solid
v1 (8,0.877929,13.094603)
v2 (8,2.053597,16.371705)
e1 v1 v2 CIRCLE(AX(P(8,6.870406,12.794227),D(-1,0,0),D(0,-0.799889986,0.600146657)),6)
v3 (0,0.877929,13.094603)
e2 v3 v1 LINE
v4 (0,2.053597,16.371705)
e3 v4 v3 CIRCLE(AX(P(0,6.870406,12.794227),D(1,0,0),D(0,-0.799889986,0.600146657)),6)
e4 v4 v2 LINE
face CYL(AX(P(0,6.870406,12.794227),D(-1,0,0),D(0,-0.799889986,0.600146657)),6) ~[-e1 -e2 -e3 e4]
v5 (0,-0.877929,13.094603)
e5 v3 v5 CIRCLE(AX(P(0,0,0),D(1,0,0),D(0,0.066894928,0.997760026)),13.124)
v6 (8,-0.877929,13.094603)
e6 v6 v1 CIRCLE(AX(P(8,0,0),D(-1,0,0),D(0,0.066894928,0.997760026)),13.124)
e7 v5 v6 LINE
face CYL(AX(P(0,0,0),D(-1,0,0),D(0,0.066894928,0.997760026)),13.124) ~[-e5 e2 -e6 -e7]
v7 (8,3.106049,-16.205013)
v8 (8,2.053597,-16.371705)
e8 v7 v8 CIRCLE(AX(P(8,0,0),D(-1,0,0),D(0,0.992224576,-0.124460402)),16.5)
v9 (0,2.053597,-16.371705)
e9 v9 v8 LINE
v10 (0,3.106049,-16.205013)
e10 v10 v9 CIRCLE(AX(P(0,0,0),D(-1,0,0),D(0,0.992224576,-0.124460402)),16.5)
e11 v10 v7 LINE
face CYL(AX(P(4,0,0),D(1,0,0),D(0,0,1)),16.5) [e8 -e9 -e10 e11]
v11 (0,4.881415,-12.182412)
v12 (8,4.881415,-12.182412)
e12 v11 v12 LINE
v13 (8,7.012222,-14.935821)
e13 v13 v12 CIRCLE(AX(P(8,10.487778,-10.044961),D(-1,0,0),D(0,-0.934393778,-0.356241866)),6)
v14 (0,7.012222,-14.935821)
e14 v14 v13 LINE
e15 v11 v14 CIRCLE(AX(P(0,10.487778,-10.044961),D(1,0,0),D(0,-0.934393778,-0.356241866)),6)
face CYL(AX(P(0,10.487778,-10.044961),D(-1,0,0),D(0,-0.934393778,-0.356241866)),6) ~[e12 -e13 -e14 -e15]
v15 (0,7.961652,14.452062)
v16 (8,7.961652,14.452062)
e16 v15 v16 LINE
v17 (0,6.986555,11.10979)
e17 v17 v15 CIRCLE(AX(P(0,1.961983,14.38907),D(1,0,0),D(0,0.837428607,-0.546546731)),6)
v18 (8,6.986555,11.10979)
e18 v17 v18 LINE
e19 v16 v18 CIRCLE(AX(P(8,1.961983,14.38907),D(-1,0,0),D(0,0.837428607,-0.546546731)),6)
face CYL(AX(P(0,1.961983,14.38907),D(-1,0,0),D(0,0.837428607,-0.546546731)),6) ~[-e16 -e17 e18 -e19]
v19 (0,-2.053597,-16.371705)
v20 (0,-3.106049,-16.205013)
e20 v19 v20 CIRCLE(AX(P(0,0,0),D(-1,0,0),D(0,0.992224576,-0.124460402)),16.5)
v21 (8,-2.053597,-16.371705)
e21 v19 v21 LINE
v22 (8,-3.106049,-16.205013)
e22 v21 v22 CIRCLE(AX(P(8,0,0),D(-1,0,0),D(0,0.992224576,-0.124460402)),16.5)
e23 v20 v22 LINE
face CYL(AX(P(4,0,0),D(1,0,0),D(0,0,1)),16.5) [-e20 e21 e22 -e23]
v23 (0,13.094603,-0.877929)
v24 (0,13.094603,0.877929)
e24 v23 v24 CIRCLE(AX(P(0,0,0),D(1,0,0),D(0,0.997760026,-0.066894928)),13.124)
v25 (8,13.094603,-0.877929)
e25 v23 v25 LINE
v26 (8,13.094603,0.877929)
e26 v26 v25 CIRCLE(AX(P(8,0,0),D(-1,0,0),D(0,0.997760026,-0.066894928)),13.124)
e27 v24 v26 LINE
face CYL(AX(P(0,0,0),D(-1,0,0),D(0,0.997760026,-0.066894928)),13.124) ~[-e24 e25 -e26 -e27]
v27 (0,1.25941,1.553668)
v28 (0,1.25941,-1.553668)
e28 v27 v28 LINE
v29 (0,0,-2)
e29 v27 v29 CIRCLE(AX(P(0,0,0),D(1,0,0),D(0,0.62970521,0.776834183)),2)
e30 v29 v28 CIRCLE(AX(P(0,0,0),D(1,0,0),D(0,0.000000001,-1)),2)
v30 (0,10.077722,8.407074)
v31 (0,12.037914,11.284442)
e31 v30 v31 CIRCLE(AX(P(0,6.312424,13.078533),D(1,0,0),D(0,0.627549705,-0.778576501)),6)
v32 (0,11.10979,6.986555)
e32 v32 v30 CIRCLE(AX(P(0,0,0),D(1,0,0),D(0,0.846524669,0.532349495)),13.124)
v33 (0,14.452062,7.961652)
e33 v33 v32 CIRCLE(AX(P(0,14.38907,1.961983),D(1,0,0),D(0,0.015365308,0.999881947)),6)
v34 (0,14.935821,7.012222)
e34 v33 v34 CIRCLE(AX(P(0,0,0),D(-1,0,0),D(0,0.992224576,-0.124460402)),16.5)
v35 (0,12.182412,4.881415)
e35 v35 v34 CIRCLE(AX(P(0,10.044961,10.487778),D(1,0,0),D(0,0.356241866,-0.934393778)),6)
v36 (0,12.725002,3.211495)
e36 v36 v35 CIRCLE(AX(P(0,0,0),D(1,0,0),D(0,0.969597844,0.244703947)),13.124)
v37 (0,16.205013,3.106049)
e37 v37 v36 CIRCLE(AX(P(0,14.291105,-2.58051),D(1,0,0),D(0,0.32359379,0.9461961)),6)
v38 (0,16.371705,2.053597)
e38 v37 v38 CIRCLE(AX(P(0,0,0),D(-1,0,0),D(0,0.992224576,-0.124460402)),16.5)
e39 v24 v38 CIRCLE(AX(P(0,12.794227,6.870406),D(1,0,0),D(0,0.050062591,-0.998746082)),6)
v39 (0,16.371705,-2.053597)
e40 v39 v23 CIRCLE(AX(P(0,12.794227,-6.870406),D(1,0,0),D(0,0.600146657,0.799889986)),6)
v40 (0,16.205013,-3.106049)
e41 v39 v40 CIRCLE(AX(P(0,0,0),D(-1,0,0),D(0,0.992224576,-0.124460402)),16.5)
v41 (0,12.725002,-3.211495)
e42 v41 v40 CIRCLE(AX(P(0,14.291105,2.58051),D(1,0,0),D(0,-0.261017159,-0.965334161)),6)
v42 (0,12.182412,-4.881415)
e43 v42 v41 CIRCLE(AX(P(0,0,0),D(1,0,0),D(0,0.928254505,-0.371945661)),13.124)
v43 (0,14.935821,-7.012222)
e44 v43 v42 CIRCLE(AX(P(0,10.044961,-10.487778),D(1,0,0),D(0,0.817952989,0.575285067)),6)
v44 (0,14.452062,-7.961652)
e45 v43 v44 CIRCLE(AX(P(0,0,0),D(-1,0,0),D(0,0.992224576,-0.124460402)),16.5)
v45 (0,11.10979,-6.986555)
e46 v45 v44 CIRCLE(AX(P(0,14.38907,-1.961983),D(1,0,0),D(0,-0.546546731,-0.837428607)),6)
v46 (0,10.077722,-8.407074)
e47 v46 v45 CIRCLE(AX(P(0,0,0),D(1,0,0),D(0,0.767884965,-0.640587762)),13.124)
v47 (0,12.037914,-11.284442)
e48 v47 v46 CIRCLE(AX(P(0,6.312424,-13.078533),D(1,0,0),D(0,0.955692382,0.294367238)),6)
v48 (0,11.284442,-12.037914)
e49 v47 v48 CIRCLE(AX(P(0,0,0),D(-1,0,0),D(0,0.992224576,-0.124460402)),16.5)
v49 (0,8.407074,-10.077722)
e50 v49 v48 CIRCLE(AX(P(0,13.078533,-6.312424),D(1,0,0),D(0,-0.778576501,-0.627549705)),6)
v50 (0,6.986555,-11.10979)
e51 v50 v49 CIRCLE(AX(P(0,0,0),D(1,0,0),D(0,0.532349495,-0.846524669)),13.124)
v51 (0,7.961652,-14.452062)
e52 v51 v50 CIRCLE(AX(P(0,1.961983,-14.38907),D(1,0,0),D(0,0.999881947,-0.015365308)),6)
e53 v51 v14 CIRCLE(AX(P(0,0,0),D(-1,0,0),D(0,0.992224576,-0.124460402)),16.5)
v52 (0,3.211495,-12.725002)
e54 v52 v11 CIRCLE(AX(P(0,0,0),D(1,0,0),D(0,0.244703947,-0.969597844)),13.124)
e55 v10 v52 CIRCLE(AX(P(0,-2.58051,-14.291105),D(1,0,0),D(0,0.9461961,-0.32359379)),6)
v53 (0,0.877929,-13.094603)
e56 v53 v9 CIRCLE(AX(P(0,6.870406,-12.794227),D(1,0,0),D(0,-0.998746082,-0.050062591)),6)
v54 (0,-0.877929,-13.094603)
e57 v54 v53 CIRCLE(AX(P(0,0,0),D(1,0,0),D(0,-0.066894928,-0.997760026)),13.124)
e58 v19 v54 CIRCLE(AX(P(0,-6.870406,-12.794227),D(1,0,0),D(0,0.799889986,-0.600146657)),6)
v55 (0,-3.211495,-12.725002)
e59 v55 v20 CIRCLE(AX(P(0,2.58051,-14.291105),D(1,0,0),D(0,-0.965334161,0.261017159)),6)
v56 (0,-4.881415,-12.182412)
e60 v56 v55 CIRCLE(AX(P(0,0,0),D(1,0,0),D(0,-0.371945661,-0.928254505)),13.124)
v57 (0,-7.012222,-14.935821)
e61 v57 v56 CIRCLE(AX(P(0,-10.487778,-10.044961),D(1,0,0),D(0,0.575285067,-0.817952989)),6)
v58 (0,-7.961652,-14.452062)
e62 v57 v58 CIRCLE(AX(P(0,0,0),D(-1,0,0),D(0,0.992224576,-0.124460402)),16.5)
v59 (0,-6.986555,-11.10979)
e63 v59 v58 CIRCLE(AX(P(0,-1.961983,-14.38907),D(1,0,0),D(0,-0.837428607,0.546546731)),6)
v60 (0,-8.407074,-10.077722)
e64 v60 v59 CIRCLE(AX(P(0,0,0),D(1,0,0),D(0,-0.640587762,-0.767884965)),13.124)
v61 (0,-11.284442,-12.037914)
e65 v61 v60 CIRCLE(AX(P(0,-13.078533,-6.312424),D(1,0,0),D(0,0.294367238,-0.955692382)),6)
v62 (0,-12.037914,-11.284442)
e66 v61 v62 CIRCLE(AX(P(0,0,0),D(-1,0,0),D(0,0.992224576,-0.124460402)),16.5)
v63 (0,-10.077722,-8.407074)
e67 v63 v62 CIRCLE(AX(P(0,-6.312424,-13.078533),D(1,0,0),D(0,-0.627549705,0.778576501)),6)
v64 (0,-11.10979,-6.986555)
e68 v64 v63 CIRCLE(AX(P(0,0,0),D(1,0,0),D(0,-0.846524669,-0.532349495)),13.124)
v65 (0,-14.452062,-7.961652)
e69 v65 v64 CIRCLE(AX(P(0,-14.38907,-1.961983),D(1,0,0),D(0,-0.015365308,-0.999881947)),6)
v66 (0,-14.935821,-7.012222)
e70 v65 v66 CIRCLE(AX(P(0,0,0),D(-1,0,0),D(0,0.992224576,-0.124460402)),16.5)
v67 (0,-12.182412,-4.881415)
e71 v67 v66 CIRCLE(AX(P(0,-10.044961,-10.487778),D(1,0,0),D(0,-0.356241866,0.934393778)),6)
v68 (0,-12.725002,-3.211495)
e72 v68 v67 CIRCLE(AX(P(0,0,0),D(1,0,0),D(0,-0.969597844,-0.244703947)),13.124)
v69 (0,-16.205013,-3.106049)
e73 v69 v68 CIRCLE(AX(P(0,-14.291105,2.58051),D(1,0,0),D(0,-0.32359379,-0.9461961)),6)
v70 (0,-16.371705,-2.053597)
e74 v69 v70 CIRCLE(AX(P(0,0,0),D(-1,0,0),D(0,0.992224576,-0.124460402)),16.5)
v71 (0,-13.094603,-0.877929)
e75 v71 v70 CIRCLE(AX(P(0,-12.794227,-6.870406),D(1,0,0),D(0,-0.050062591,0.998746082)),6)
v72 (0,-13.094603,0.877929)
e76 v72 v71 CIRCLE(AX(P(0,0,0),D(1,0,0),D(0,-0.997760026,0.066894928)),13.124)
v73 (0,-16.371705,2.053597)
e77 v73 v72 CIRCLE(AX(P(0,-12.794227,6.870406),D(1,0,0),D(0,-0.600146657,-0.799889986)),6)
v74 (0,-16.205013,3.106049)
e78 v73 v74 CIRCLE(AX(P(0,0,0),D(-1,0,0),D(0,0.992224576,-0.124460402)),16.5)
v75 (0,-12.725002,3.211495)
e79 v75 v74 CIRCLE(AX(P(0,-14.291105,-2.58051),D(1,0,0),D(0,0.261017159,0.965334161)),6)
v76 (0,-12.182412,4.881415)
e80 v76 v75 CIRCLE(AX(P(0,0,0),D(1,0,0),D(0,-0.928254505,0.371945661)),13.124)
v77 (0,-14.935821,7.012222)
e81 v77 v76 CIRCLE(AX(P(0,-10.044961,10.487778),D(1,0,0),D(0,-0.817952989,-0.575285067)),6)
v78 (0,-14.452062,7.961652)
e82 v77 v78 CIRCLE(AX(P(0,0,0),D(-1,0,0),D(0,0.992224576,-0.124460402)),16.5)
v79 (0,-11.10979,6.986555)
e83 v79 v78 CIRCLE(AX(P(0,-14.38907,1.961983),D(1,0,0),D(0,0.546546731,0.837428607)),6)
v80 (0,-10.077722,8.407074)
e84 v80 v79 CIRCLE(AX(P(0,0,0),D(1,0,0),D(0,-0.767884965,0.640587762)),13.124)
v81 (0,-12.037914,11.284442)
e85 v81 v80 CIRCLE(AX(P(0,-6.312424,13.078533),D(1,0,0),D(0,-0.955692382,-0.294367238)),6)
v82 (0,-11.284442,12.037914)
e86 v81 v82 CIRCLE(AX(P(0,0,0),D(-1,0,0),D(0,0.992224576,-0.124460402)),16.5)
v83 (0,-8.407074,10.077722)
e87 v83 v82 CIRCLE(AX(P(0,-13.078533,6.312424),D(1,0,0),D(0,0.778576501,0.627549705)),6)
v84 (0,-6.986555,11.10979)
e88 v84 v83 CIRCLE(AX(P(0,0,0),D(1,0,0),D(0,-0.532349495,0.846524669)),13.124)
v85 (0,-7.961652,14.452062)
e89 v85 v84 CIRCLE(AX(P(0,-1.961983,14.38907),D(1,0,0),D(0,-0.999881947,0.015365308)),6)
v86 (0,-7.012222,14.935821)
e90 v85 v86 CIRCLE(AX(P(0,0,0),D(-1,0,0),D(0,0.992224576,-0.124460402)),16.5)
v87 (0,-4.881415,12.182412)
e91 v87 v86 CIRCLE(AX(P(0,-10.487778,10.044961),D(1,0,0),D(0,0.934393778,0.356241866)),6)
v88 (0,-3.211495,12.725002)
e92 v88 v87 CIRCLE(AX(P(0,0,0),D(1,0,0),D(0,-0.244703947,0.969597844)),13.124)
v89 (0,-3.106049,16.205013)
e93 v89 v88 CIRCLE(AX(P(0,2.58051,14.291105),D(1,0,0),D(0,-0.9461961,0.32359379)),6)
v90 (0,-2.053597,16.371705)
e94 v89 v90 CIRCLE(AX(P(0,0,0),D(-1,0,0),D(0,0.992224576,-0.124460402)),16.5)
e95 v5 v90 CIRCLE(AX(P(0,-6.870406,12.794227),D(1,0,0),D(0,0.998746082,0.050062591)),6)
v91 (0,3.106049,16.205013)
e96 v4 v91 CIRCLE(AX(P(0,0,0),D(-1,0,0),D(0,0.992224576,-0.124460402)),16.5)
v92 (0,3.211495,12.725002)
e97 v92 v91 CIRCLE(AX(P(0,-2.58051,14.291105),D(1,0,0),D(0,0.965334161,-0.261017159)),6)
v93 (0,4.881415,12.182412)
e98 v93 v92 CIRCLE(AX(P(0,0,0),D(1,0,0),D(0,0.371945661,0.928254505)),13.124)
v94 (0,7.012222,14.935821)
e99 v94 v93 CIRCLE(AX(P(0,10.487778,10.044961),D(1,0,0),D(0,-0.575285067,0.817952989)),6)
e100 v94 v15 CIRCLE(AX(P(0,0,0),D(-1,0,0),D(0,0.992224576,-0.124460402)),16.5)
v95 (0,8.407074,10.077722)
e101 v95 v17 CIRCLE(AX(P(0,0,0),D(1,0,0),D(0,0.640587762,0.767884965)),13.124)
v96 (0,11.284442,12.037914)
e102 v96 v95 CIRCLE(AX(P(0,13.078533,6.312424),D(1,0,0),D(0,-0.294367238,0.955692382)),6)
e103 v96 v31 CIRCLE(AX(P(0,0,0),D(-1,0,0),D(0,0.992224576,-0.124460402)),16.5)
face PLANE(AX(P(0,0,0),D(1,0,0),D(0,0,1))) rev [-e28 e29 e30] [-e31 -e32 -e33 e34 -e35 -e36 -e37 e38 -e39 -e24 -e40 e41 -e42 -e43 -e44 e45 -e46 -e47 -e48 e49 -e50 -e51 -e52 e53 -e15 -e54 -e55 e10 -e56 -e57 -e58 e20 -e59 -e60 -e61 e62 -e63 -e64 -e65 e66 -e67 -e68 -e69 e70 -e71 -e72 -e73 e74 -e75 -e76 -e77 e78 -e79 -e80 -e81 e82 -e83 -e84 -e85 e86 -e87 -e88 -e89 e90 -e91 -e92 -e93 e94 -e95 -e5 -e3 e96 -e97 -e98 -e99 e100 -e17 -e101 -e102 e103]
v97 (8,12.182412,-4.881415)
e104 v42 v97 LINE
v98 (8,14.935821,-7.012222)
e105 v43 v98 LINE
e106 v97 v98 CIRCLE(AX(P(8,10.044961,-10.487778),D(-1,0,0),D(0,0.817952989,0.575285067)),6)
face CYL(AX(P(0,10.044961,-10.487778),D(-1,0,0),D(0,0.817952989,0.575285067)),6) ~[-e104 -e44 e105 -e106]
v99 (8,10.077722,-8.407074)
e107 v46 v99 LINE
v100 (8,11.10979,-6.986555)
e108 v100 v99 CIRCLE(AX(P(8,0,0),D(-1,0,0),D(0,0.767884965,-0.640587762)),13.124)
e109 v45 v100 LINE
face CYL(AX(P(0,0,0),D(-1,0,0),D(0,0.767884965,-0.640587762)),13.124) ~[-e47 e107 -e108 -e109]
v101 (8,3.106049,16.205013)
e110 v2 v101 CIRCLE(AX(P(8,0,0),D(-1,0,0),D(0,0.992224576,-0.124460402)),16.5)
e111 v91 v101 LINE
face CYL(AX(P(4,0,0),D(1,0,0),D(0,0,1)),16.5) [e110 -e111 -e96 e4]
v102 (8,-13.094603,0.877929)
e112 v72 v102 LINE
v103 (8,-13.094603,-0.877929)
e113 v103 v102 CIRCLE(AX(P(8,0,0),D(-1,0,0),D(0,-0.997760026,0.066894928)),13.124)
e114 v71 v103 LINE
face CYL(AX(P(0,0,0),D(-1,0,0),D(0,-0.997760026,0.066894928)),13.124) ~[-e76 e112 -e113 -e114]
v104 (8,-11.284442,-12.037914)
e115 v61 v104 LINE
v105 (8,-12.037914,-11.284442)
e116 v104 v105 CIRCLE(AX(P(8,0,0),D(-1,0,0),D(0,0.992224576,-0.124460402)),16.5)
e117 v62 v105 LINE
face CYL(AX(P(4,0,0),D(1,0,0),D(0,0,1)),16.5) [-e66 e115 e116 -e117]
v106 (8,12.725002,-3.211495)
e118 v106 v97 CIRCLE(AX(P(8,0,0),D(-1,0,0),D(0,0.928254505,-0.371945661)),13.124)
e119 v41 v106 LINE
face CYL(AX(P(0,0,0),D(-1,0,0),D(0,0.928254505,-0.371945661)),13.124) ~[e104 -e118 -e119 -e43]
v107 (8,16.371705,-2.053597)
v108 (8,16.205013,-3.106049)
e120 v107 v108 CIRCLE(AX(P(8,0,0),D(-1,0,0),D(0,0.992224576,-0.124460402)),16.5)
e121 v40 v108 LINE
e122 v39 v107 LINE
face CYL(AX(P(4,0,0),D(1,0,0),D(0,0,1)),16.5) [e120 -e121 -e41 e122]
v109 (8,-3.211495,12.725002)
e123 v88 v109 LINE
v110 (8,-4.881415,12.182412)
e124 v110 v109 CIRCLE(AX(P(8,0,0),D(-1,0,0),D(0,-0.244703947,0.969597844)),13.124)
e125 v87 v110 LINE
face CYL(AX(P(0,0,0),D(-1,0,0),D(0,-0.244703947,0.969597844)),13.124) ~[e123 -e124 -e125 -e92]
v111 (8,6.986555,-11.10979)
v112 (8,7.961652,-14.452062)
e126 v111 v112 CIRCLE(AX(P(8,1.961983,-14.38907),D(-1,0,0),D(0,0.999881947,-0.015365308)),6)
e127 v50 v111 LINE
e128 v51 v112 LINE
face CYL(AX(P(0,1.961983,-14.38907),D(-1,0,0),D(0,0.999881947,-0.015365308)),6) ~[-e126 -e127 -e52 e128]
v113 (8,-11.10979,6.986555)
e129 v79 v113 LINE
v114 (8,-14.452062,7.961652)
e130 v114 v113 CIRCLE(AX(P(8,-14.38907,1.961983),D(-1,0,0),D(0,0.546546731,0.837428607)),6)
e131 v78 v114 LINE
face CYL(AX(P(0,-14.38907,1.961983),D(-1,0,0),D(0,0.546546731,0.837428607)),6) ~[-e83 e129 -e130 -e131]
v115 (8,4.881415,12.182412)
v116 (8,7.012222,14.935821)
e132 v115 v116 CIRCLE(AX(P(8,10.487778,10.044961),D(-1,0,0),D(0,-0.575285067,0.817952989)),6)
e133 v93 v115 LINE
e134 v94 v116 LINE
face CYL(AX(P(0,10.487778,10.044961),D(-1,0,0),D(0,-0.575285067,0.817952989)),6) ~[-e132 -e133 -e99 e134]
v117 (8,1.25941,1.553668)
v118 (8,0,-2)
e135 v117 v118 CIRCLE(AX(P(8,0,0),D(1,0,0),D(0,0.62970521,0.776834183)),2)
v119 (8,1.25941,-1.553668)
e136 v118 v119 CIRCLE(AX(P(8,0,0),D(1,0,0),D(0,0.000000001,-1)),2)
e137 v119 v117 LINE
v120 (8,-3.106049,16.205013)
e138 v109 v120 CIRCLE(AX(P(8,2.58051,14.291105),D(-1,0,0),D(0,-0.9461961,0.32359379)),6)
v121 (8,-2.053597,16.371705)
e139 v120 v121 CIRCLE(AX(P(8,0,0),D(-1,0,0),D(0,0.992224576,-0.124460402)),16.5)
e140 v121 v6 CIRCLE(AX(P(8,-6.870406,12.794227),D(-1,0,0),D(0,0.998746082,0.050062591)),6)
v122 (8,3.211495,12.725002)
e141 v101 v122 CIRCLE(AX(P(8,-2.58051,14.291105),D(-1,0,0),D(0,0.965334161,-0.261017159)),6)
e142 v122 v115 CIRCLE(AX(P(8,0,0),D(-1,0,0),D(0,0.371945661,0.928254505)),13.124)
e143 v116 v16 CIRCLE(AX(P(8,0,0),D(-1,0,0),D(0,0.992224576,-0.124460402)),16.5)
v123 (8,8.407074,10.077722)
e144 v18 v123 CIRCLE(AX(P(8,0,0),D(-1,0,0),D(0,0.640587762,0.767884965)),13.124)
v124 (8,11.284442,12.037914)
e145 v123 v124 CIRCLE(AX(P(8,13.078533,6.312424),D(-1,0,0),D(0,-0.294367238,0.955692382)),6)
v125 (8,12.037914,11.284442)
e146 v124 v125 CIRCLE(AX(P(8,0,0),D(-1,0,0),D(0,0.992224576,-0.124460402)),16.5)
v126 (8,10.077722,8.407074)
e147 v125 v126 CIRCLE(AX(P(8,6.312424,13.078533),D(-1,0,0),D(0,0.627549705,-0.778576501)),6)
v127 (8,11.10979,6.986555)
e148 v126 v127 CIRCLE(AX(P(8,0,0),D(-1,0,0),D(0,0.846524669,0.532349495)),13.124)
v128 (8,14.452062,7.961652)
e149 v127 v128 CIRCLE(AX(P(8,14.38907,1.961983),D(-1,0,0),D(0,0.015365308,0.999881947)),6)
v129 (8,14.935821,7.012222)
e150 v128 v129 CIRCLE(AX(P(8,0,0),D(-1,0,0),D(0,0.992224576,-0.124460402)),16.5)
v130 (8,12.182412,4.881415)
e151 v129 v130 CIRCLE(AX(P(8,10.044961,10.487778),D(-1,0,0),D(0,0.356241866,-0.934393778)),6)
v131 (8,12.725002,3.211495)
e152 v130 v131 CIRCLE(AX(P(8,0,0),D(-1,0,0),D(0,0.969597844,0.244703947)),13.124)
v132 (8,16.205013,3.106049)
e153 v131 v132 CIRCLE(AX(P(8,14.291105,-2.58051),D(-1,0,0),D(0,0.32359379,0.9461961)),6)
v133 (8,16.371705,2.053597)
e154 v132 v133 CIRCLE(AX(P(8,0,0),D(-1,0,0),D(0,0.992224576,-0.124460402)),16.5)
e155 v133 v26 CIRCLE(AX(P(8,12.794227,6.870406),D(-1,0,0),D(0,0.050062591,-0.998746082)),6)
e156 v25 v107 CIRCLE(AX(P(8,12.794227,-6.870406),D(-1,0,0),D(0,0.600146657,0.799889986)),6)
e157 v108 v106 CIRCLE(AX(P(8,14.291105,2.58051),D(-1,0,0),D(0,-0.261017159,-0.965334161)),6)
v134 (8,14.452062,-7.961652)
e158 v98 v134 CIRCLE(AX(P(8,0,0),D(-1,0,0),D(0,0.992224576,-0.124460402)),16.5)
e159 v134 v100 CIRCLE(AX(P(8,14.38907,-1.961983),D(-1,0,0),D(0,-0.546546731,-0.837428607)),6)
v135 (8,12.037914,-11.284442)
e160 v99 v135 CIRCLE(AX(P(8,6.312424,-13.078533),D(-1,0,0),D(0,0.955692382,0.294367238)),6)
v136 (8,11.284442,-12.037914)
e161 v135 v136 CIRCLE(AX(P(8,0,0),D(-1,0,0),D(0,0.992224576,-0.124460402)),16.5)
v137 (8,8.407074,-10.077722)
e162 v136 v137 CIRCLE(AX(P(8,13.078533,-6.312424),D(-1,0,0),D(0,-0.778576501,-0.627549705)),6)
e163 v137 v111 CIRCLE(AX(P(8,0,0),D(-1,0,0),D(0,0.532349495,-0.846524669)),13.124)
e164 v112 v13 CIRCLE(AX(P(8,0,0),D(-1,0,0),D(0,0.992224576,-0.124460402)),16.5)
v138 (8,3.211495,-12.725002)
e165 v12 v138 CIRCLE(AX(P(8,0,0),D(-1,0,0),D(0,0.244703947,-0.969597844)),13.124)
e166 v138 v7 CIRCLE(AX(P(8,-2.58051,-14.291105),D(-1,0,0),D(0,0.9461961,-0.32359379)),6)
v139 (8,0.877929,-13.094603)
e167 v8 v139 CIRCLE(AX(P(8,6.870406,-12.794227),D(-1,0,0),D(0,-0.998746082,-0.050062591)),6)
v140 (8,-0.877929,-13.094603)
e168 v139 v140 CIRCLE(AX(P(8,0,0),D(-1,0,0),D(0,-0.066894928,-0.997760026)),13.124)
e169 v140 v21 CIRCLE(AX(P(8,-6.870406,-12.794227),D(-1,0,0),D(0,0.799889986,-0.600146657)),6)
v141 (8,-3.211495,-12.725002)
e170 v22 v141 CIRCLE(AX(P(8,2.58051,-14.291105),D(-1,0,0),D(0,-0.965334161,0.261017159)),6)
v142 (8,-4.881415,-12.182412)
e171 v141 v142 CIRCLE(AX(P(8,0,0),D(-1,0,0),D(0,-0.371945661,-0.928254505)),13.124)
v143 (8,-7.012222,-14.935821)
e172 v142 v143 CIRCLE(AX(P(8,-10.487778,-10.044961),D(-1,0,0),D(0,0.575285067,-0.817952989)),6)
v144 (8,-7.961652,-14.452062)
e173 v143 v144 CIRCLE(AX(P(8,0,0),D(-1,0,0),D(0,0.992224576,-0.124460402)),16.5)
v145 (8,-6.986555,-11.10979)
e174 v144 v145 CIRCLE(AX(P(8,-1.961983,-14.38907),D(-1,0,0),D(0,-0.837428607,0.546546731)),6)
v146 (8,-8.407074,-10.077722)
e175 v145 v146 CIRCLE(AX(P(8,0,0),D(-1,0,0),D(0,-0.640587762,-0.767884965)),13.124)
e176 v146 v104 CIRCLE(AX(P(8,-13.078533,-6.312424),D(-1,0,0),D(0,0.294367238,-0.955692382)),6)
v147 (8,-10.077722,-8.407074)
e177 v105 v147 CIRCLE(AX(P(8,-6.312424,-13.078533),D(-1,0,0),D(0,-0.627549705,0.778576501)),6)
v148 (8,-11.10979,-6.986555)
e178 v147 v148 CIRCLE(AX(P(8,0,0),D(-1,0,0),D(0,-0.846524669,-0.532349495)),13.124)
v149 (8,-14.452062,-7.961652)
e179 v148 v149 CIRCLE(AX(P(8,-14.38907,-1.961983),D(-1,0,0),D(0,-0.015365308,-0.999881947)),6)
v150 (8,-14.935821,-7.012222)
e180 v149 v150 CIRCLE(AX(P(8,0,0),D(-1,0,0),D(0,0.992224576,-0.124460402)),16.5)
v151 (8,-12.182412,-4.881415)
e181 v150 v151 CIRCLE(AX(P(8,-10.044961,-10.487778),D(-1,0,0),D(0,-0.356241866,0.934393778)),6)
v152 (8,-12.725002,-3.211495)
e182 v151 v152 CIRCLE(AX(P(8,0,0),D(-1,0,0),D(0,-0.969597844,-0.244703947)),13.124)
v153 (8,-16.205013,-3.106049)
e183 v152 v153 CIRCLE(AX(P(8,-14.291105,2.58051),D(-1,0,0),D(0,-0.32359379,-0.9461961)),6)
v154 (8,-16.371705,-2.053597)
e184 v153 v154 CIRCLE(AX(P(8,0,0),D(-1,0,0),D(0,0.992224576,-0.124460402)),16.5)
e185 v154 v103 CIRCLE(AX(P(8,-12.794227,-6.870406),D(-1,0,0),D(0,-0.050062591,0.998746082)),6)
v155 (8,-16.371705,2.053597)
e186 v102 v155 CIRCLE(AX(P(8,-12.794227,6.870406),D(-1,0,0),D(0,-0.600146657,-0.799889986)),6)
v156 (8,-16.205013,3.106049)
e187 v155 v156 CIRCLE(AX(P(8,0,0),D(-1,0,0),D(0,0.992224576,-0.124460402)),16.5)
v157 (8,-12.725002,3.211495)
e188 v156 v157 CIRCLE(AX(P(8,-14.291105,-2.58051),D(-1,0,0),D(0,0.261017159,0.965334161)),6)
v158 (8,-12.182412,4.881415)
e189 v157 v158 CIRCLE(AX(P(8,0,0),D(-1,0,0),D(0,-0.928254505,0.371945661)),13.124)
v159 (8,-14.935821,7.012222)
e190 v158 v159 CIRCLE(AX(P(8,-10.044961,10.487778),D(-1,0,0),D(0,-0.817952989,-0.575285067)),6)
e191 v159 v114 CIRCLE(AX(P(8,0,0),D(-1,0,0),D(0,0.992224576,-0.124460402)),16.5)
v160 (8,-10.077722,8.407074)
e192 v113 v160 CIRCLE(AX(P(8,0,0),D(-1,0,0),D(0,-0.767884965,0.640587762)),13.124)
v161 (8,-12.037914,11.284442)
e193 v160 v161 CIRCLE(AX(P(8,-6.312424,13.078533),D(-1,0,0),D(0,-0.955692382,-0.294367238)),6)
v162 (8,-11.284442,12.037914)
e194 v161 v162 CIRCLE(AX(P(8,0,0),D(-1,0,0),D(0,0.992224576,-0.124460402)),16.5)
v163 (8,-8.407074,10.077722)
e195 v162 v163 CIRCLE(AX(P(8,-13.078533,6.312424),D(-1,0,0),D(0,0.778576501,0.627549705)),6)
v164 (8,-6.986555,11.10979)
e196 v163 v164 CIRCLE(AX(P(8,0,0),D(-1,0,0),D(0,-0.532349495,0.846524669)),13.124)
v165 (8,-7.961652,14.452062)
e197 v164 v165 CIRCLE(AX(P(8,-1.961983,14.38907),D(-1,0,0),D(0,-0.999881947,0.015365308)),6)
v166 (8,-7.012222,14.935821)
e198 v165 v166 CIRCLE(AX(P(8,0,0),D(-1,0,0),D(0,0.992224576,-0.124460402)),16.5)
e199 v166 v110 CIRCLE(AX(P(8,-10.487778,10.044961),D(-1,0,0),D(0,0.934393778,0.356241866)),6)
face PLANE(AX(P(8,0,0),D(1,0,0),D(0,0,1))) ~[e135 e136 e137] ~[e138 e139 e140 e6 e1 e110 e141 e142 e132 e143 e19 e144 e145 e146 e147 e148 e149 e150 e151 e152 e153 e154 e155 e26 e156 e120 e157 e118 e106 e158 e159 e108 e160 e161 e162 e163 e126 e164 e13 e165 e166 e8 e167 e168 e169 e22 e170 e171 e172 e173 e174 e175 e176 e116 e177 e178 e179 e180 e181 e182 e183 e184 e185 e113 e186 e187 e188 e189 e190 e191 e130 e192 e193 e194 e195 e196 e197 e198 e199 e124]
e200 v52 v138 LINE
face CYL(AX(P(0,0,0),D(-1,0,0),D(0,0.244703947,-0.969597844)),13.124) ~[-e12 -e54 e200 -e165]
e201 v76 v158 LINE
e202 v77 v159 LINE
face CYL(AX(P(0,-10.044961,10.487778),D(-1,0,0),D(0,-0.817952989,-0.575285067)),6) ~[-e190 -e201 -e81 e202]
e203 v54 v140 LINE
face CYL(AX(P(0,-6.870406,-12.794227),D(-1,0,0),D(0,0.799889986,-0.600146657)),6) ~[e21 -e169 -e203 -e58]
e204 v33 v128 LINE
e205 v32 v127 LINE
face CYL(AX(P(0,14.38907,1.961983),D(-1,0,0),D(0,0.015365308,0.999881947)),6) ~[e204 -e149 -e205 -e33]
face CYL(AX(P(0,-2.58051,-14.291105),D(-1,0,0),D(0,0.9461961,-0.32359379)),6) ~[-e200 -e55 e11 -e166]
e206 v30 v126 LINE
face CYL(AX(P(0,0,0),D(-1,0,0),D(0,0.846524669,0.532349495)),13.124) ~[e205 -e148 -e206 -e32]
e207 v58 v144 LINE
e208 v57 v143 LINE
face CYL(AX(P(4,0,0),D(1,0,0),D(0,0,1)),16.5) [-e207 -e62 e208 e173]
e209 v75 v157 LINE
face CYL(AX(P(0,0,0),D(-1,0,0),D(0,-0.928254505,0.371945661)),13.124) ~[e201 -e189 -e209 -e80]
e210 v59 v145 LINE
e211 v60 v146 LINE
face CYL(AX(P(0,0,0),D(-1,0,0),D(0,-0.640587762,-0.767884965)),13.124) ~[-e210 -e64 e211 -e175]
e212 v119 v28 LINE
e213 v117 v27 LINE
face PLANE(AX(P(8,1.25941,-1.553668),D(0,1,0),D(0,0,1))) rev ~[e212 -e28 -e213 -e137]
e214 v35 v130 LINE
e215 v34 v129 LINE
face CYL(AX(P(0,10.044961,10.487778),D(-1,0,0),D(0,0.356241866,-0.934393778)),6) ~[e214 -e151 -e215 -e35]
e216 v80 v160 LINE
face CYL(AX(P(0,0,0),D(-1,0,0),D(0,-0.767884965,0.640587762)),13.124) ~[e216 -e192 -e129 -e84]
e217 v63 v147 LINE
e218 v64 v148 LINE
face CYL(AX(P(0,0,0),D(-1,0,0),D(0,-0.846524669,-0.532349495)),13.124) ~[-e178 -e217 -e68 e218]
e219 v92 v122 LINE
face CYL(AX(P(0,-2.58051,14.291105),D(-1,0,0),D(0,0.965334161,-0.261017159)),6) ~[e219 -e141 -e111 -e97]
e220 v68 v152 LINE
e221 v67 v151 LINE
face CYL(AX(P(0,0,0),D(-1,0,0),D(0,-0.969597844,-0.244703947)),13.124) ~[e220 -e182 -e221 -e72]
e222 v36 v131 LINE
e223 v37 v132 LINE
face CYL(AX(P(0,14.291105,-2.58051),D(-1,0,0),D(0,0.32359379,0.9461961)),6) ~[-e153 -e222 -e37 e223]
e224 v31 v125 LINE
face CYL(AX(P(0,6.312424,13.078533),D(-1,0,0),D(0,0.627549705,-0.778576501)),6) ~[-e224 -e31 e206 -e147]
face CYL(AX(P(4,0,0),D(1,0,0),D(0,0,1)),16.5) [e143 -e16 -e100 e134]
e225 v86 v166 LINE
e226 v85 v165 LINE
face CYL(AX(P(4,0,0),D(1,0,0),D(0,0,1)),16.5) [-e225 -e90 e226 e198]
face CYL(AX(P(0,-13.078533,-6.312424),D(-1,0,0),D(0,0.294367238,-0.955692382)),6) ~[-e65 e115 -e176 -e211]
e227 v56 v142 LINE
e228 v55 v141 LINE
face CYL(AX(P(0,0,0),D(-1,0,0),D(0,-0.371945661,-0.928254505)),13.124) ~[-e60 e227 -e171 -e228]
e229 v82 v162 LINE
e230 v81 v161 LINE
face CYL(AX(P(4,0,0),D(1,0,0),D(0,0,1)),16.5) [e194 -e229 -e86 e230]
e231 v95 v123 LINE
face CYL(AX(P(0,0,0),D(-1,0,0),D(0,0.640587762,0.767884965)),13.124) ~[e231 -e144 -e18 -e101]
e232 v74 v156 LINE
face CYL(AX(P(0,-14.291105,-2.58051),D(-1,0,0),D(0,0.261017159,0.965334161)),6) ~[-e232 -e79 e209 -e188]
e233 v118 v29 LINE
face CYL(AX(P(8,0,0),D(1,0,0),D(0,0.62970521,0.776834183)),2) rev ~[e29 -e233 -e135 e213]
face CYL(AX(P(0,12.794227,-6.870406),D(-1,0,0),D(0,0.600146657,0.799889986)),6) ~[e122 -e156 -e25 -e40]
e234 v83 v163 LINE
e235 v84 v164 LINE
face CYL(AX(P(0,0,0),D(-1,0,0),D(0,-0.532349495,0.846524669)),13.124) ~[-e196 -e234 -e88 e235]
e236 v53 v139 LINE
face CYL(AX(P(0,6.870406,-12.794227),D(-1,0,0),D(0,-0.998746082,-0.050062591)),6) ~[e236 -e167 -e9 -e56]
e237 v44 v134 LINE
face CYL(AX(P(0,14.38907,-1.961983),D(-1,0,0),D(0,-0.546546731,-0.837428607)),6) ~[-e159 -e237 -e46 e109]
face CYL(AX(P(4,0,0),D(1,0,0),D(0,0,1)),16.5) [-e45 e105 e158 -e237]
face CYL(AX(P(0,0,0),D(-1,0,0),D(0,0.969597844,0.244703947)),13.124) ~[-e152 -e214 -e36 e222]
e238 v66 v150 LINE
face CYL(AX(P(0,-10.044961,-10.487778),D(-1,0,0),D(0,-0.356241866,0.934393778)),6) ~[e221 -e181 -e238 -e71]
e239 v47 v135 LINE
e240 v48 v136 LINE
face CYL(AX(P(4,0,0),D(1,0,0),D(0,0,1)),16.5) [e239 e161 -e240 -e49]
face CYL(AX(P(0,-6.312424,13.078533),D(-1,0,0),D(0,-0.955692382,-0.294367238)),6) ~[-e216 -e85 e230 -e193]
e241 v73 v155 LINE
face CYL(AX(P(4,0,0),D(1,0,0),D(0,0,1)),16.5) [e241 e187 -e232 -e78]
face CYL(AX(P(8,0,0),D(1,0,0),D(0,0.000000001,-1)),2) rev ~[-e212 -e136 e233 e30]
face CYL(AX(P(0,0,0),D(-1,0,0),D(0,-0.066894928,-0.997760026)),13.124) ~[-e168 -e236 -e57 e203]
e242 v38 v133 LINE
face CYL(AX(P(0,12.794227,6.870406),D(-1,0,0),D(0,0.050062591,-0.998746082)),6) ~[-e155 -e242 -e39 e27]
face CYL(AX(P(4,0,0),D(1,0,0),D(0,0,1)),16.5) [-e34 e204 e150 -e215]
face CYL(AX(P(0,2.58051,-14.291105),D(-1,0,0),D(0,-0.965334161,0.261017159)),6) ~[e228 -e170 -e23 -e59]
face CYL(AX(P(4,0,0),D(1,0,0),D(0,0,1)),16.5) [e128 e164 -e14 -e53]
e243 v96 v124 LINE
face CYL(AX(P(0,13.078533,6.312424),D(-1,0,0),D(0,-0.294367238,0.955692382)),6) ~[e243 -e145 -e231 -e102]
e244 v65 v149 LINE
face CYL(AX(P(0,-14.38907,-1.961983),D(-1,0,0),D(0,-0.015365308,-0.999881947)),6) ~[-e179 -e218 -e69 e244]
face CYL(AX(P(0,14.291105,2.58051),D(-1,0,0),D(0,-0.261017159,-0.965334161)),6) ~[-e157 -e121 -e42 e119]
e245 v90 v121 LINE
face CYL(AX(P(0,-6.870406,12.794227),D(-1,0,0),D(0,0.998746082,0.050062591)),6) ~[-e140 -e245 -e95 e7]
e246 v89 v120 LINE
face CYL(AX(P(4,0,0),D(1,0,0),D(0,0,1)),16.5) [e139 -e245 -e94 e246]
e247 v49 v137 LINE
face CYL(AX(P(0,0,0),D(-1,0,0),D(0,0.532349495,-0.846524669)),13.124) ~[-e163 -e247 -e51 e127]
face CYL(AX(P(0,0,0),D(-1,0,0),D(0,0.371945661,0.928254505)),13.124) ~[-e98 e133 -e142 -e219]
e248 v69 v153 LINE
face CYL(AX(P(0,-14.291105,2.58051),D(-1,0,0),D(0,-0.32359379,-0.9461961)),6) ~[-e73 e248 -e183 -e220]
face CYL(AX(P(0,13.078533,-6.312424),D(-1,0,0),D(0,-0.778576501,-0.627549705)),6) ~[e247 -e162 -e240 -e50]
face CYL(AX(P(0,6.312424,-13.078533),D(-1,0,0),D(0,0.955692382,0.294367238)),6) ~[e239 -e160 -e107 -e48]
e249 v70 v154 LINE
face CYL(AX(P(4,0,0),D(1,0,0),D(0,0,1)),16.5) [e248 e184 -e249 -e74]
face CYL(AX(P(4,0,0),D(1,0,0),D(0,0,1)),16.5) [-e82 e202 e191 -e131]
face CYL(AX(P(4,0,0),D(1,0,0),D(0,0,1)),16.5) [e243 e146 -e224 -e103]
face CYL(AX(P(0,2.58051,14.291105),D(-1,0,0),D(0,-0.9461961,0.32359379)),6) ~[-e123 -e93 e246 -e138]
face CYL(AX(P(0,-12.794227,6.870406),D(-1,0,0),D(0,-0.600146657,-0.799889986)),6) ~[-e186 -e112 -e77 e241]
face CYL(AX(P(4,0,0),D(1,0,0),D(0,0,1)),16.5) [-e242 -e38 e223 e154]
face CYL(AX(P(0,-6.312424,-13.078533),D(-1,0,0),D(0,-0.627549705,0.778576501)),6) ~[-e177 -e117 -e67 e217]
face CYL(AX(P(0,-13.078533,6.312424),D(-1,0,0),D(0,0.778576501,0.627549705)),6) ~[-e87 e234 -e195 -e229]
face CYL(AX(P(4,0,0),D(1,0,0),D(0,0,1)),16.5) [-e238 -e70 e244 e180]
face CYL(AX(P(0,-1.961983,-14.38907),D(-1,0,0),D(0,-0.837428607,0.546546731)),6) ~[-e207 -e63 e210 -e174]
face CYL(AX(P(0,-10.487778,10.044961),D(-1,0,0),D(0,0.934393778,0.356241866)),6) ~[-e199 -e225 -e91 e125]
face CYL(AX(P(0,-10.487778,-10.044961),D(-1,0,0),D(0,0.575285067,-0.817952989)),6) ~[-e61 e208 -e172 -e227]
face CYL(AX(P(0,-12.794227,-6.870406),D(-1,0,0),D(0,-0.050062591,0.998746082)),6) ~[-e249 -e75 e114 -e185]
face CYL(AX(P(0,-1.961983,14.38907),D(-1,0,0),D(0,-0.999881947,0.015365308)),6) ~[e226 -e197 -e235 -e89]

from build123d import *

# Parameters (mm, degrees)
BASPROSKE_W        = 8
BASPROSKE_H        = 16.5
TOOTHCUT_DEPTH     = 25.667792767
TEETHCUTS_COUNT    = 20
TEETHCUTS_ANGLE    = 342
BORSKE_R           = 0.4
BORE_DEPTH         = 50.0000508
CUT_EXTRUDE1_DEPTH = 25.496234031


with BuildPart() as part:
    # BasProSke → Base-Revolve (revolve)
    with BuildSketch(Plane(origin=(0, 0, 0), x_dir=(1, 0, 0), z_dir=(0, 1, 0)), mode=Mode.PRIVATE) as base_revolve_sk:
        with Locations((4, 8.25)):
            Rectangle(BASPROSKE_W, BASPROSKE_H)
    revolve(base_revolve_sk.sketch.rotate(Axis((-10, 0, 0), (1, 0, 0)), 180), axis=Axis((-10, 0, 0), (1, 0, 0)))

    # TooCutSke → ToothCut (cut, through all)
    with BuildSketch(Plane(origin=(0, 0, 0), x_dir=(0, 0, -1), z_dir=(1, 0, 0))):
        with BuildLine():
            ThreePointArc((0.877929023, 13.094602576), (0, 13.124), (-0.877929023, 13.094602576))
            ThreePointArc((-0.877929023, 13.094602576), (-1.227785764, 14.834041313), (-2.071065599, 16.395106966))
            ThreePointArc((-2.071065599, 16.395106966), (0, 16.5254), (2.071065599, 16.395106966))
            ThreePointArc((2.071065599, 16.395106966), (1.227785764, 14.834041313), (0.877929023, 13.094602576))
        make_face()
    toothcut = extrude(amount=TOOTHCUT_DEPTH, mode=Mode.SUBTRACT)

    # TeethCuts: ToothCut ×20 about axis
    teethcuts_axis = Axis((-10, 0, 0), (1, 0, 0))
    for i in range(1, TEETHCUTS_COUNT):
        add(toothcut.rotate(teethcuts_axis, i * TEETHCUTS_ANGLE / (TEETHCUTS_COUNT - 1)), mode=Mode.SUBTRACT)

    # BorSke → Bore (cut, symmetric)
    with BuildSketch(Plane(origin=(0, 0, 0), x_dir=(0, 0, -1), z_dir=(1, 0, 0))):
        with Locations(Location((0, 0, 0), (0, 0, 180))):
            Circle(BORSKE_R)
    extrude(amount=BORE_DEPTH, both=True, mode=Mode.SUBTRACT)

    # Sketch1 → Cut-Extrude1 (cut, through all)
    with BuildSketch(Plane(origin=(8, 0, 0), x_dir=(0, 0, -1), z_dir=(1, 0, 0))):
        with BuildLine():
            ThreePointArc((2, 0), (1.8851176, 0.668080559), (1.553668367, 1.25941042))
            Line((1.553668367, 1.25941042), (-1.553668367, 1.25941042))
            ThreePointArc((-1.553668367, 1.25941042), (-0.668080559, -1.8851176), (2, 0))
        make_face()
    extrude(amount=-CUT_EXTRUDE1_DEPTH, mode=Mode.SUBTRACT)


solid = part.part
